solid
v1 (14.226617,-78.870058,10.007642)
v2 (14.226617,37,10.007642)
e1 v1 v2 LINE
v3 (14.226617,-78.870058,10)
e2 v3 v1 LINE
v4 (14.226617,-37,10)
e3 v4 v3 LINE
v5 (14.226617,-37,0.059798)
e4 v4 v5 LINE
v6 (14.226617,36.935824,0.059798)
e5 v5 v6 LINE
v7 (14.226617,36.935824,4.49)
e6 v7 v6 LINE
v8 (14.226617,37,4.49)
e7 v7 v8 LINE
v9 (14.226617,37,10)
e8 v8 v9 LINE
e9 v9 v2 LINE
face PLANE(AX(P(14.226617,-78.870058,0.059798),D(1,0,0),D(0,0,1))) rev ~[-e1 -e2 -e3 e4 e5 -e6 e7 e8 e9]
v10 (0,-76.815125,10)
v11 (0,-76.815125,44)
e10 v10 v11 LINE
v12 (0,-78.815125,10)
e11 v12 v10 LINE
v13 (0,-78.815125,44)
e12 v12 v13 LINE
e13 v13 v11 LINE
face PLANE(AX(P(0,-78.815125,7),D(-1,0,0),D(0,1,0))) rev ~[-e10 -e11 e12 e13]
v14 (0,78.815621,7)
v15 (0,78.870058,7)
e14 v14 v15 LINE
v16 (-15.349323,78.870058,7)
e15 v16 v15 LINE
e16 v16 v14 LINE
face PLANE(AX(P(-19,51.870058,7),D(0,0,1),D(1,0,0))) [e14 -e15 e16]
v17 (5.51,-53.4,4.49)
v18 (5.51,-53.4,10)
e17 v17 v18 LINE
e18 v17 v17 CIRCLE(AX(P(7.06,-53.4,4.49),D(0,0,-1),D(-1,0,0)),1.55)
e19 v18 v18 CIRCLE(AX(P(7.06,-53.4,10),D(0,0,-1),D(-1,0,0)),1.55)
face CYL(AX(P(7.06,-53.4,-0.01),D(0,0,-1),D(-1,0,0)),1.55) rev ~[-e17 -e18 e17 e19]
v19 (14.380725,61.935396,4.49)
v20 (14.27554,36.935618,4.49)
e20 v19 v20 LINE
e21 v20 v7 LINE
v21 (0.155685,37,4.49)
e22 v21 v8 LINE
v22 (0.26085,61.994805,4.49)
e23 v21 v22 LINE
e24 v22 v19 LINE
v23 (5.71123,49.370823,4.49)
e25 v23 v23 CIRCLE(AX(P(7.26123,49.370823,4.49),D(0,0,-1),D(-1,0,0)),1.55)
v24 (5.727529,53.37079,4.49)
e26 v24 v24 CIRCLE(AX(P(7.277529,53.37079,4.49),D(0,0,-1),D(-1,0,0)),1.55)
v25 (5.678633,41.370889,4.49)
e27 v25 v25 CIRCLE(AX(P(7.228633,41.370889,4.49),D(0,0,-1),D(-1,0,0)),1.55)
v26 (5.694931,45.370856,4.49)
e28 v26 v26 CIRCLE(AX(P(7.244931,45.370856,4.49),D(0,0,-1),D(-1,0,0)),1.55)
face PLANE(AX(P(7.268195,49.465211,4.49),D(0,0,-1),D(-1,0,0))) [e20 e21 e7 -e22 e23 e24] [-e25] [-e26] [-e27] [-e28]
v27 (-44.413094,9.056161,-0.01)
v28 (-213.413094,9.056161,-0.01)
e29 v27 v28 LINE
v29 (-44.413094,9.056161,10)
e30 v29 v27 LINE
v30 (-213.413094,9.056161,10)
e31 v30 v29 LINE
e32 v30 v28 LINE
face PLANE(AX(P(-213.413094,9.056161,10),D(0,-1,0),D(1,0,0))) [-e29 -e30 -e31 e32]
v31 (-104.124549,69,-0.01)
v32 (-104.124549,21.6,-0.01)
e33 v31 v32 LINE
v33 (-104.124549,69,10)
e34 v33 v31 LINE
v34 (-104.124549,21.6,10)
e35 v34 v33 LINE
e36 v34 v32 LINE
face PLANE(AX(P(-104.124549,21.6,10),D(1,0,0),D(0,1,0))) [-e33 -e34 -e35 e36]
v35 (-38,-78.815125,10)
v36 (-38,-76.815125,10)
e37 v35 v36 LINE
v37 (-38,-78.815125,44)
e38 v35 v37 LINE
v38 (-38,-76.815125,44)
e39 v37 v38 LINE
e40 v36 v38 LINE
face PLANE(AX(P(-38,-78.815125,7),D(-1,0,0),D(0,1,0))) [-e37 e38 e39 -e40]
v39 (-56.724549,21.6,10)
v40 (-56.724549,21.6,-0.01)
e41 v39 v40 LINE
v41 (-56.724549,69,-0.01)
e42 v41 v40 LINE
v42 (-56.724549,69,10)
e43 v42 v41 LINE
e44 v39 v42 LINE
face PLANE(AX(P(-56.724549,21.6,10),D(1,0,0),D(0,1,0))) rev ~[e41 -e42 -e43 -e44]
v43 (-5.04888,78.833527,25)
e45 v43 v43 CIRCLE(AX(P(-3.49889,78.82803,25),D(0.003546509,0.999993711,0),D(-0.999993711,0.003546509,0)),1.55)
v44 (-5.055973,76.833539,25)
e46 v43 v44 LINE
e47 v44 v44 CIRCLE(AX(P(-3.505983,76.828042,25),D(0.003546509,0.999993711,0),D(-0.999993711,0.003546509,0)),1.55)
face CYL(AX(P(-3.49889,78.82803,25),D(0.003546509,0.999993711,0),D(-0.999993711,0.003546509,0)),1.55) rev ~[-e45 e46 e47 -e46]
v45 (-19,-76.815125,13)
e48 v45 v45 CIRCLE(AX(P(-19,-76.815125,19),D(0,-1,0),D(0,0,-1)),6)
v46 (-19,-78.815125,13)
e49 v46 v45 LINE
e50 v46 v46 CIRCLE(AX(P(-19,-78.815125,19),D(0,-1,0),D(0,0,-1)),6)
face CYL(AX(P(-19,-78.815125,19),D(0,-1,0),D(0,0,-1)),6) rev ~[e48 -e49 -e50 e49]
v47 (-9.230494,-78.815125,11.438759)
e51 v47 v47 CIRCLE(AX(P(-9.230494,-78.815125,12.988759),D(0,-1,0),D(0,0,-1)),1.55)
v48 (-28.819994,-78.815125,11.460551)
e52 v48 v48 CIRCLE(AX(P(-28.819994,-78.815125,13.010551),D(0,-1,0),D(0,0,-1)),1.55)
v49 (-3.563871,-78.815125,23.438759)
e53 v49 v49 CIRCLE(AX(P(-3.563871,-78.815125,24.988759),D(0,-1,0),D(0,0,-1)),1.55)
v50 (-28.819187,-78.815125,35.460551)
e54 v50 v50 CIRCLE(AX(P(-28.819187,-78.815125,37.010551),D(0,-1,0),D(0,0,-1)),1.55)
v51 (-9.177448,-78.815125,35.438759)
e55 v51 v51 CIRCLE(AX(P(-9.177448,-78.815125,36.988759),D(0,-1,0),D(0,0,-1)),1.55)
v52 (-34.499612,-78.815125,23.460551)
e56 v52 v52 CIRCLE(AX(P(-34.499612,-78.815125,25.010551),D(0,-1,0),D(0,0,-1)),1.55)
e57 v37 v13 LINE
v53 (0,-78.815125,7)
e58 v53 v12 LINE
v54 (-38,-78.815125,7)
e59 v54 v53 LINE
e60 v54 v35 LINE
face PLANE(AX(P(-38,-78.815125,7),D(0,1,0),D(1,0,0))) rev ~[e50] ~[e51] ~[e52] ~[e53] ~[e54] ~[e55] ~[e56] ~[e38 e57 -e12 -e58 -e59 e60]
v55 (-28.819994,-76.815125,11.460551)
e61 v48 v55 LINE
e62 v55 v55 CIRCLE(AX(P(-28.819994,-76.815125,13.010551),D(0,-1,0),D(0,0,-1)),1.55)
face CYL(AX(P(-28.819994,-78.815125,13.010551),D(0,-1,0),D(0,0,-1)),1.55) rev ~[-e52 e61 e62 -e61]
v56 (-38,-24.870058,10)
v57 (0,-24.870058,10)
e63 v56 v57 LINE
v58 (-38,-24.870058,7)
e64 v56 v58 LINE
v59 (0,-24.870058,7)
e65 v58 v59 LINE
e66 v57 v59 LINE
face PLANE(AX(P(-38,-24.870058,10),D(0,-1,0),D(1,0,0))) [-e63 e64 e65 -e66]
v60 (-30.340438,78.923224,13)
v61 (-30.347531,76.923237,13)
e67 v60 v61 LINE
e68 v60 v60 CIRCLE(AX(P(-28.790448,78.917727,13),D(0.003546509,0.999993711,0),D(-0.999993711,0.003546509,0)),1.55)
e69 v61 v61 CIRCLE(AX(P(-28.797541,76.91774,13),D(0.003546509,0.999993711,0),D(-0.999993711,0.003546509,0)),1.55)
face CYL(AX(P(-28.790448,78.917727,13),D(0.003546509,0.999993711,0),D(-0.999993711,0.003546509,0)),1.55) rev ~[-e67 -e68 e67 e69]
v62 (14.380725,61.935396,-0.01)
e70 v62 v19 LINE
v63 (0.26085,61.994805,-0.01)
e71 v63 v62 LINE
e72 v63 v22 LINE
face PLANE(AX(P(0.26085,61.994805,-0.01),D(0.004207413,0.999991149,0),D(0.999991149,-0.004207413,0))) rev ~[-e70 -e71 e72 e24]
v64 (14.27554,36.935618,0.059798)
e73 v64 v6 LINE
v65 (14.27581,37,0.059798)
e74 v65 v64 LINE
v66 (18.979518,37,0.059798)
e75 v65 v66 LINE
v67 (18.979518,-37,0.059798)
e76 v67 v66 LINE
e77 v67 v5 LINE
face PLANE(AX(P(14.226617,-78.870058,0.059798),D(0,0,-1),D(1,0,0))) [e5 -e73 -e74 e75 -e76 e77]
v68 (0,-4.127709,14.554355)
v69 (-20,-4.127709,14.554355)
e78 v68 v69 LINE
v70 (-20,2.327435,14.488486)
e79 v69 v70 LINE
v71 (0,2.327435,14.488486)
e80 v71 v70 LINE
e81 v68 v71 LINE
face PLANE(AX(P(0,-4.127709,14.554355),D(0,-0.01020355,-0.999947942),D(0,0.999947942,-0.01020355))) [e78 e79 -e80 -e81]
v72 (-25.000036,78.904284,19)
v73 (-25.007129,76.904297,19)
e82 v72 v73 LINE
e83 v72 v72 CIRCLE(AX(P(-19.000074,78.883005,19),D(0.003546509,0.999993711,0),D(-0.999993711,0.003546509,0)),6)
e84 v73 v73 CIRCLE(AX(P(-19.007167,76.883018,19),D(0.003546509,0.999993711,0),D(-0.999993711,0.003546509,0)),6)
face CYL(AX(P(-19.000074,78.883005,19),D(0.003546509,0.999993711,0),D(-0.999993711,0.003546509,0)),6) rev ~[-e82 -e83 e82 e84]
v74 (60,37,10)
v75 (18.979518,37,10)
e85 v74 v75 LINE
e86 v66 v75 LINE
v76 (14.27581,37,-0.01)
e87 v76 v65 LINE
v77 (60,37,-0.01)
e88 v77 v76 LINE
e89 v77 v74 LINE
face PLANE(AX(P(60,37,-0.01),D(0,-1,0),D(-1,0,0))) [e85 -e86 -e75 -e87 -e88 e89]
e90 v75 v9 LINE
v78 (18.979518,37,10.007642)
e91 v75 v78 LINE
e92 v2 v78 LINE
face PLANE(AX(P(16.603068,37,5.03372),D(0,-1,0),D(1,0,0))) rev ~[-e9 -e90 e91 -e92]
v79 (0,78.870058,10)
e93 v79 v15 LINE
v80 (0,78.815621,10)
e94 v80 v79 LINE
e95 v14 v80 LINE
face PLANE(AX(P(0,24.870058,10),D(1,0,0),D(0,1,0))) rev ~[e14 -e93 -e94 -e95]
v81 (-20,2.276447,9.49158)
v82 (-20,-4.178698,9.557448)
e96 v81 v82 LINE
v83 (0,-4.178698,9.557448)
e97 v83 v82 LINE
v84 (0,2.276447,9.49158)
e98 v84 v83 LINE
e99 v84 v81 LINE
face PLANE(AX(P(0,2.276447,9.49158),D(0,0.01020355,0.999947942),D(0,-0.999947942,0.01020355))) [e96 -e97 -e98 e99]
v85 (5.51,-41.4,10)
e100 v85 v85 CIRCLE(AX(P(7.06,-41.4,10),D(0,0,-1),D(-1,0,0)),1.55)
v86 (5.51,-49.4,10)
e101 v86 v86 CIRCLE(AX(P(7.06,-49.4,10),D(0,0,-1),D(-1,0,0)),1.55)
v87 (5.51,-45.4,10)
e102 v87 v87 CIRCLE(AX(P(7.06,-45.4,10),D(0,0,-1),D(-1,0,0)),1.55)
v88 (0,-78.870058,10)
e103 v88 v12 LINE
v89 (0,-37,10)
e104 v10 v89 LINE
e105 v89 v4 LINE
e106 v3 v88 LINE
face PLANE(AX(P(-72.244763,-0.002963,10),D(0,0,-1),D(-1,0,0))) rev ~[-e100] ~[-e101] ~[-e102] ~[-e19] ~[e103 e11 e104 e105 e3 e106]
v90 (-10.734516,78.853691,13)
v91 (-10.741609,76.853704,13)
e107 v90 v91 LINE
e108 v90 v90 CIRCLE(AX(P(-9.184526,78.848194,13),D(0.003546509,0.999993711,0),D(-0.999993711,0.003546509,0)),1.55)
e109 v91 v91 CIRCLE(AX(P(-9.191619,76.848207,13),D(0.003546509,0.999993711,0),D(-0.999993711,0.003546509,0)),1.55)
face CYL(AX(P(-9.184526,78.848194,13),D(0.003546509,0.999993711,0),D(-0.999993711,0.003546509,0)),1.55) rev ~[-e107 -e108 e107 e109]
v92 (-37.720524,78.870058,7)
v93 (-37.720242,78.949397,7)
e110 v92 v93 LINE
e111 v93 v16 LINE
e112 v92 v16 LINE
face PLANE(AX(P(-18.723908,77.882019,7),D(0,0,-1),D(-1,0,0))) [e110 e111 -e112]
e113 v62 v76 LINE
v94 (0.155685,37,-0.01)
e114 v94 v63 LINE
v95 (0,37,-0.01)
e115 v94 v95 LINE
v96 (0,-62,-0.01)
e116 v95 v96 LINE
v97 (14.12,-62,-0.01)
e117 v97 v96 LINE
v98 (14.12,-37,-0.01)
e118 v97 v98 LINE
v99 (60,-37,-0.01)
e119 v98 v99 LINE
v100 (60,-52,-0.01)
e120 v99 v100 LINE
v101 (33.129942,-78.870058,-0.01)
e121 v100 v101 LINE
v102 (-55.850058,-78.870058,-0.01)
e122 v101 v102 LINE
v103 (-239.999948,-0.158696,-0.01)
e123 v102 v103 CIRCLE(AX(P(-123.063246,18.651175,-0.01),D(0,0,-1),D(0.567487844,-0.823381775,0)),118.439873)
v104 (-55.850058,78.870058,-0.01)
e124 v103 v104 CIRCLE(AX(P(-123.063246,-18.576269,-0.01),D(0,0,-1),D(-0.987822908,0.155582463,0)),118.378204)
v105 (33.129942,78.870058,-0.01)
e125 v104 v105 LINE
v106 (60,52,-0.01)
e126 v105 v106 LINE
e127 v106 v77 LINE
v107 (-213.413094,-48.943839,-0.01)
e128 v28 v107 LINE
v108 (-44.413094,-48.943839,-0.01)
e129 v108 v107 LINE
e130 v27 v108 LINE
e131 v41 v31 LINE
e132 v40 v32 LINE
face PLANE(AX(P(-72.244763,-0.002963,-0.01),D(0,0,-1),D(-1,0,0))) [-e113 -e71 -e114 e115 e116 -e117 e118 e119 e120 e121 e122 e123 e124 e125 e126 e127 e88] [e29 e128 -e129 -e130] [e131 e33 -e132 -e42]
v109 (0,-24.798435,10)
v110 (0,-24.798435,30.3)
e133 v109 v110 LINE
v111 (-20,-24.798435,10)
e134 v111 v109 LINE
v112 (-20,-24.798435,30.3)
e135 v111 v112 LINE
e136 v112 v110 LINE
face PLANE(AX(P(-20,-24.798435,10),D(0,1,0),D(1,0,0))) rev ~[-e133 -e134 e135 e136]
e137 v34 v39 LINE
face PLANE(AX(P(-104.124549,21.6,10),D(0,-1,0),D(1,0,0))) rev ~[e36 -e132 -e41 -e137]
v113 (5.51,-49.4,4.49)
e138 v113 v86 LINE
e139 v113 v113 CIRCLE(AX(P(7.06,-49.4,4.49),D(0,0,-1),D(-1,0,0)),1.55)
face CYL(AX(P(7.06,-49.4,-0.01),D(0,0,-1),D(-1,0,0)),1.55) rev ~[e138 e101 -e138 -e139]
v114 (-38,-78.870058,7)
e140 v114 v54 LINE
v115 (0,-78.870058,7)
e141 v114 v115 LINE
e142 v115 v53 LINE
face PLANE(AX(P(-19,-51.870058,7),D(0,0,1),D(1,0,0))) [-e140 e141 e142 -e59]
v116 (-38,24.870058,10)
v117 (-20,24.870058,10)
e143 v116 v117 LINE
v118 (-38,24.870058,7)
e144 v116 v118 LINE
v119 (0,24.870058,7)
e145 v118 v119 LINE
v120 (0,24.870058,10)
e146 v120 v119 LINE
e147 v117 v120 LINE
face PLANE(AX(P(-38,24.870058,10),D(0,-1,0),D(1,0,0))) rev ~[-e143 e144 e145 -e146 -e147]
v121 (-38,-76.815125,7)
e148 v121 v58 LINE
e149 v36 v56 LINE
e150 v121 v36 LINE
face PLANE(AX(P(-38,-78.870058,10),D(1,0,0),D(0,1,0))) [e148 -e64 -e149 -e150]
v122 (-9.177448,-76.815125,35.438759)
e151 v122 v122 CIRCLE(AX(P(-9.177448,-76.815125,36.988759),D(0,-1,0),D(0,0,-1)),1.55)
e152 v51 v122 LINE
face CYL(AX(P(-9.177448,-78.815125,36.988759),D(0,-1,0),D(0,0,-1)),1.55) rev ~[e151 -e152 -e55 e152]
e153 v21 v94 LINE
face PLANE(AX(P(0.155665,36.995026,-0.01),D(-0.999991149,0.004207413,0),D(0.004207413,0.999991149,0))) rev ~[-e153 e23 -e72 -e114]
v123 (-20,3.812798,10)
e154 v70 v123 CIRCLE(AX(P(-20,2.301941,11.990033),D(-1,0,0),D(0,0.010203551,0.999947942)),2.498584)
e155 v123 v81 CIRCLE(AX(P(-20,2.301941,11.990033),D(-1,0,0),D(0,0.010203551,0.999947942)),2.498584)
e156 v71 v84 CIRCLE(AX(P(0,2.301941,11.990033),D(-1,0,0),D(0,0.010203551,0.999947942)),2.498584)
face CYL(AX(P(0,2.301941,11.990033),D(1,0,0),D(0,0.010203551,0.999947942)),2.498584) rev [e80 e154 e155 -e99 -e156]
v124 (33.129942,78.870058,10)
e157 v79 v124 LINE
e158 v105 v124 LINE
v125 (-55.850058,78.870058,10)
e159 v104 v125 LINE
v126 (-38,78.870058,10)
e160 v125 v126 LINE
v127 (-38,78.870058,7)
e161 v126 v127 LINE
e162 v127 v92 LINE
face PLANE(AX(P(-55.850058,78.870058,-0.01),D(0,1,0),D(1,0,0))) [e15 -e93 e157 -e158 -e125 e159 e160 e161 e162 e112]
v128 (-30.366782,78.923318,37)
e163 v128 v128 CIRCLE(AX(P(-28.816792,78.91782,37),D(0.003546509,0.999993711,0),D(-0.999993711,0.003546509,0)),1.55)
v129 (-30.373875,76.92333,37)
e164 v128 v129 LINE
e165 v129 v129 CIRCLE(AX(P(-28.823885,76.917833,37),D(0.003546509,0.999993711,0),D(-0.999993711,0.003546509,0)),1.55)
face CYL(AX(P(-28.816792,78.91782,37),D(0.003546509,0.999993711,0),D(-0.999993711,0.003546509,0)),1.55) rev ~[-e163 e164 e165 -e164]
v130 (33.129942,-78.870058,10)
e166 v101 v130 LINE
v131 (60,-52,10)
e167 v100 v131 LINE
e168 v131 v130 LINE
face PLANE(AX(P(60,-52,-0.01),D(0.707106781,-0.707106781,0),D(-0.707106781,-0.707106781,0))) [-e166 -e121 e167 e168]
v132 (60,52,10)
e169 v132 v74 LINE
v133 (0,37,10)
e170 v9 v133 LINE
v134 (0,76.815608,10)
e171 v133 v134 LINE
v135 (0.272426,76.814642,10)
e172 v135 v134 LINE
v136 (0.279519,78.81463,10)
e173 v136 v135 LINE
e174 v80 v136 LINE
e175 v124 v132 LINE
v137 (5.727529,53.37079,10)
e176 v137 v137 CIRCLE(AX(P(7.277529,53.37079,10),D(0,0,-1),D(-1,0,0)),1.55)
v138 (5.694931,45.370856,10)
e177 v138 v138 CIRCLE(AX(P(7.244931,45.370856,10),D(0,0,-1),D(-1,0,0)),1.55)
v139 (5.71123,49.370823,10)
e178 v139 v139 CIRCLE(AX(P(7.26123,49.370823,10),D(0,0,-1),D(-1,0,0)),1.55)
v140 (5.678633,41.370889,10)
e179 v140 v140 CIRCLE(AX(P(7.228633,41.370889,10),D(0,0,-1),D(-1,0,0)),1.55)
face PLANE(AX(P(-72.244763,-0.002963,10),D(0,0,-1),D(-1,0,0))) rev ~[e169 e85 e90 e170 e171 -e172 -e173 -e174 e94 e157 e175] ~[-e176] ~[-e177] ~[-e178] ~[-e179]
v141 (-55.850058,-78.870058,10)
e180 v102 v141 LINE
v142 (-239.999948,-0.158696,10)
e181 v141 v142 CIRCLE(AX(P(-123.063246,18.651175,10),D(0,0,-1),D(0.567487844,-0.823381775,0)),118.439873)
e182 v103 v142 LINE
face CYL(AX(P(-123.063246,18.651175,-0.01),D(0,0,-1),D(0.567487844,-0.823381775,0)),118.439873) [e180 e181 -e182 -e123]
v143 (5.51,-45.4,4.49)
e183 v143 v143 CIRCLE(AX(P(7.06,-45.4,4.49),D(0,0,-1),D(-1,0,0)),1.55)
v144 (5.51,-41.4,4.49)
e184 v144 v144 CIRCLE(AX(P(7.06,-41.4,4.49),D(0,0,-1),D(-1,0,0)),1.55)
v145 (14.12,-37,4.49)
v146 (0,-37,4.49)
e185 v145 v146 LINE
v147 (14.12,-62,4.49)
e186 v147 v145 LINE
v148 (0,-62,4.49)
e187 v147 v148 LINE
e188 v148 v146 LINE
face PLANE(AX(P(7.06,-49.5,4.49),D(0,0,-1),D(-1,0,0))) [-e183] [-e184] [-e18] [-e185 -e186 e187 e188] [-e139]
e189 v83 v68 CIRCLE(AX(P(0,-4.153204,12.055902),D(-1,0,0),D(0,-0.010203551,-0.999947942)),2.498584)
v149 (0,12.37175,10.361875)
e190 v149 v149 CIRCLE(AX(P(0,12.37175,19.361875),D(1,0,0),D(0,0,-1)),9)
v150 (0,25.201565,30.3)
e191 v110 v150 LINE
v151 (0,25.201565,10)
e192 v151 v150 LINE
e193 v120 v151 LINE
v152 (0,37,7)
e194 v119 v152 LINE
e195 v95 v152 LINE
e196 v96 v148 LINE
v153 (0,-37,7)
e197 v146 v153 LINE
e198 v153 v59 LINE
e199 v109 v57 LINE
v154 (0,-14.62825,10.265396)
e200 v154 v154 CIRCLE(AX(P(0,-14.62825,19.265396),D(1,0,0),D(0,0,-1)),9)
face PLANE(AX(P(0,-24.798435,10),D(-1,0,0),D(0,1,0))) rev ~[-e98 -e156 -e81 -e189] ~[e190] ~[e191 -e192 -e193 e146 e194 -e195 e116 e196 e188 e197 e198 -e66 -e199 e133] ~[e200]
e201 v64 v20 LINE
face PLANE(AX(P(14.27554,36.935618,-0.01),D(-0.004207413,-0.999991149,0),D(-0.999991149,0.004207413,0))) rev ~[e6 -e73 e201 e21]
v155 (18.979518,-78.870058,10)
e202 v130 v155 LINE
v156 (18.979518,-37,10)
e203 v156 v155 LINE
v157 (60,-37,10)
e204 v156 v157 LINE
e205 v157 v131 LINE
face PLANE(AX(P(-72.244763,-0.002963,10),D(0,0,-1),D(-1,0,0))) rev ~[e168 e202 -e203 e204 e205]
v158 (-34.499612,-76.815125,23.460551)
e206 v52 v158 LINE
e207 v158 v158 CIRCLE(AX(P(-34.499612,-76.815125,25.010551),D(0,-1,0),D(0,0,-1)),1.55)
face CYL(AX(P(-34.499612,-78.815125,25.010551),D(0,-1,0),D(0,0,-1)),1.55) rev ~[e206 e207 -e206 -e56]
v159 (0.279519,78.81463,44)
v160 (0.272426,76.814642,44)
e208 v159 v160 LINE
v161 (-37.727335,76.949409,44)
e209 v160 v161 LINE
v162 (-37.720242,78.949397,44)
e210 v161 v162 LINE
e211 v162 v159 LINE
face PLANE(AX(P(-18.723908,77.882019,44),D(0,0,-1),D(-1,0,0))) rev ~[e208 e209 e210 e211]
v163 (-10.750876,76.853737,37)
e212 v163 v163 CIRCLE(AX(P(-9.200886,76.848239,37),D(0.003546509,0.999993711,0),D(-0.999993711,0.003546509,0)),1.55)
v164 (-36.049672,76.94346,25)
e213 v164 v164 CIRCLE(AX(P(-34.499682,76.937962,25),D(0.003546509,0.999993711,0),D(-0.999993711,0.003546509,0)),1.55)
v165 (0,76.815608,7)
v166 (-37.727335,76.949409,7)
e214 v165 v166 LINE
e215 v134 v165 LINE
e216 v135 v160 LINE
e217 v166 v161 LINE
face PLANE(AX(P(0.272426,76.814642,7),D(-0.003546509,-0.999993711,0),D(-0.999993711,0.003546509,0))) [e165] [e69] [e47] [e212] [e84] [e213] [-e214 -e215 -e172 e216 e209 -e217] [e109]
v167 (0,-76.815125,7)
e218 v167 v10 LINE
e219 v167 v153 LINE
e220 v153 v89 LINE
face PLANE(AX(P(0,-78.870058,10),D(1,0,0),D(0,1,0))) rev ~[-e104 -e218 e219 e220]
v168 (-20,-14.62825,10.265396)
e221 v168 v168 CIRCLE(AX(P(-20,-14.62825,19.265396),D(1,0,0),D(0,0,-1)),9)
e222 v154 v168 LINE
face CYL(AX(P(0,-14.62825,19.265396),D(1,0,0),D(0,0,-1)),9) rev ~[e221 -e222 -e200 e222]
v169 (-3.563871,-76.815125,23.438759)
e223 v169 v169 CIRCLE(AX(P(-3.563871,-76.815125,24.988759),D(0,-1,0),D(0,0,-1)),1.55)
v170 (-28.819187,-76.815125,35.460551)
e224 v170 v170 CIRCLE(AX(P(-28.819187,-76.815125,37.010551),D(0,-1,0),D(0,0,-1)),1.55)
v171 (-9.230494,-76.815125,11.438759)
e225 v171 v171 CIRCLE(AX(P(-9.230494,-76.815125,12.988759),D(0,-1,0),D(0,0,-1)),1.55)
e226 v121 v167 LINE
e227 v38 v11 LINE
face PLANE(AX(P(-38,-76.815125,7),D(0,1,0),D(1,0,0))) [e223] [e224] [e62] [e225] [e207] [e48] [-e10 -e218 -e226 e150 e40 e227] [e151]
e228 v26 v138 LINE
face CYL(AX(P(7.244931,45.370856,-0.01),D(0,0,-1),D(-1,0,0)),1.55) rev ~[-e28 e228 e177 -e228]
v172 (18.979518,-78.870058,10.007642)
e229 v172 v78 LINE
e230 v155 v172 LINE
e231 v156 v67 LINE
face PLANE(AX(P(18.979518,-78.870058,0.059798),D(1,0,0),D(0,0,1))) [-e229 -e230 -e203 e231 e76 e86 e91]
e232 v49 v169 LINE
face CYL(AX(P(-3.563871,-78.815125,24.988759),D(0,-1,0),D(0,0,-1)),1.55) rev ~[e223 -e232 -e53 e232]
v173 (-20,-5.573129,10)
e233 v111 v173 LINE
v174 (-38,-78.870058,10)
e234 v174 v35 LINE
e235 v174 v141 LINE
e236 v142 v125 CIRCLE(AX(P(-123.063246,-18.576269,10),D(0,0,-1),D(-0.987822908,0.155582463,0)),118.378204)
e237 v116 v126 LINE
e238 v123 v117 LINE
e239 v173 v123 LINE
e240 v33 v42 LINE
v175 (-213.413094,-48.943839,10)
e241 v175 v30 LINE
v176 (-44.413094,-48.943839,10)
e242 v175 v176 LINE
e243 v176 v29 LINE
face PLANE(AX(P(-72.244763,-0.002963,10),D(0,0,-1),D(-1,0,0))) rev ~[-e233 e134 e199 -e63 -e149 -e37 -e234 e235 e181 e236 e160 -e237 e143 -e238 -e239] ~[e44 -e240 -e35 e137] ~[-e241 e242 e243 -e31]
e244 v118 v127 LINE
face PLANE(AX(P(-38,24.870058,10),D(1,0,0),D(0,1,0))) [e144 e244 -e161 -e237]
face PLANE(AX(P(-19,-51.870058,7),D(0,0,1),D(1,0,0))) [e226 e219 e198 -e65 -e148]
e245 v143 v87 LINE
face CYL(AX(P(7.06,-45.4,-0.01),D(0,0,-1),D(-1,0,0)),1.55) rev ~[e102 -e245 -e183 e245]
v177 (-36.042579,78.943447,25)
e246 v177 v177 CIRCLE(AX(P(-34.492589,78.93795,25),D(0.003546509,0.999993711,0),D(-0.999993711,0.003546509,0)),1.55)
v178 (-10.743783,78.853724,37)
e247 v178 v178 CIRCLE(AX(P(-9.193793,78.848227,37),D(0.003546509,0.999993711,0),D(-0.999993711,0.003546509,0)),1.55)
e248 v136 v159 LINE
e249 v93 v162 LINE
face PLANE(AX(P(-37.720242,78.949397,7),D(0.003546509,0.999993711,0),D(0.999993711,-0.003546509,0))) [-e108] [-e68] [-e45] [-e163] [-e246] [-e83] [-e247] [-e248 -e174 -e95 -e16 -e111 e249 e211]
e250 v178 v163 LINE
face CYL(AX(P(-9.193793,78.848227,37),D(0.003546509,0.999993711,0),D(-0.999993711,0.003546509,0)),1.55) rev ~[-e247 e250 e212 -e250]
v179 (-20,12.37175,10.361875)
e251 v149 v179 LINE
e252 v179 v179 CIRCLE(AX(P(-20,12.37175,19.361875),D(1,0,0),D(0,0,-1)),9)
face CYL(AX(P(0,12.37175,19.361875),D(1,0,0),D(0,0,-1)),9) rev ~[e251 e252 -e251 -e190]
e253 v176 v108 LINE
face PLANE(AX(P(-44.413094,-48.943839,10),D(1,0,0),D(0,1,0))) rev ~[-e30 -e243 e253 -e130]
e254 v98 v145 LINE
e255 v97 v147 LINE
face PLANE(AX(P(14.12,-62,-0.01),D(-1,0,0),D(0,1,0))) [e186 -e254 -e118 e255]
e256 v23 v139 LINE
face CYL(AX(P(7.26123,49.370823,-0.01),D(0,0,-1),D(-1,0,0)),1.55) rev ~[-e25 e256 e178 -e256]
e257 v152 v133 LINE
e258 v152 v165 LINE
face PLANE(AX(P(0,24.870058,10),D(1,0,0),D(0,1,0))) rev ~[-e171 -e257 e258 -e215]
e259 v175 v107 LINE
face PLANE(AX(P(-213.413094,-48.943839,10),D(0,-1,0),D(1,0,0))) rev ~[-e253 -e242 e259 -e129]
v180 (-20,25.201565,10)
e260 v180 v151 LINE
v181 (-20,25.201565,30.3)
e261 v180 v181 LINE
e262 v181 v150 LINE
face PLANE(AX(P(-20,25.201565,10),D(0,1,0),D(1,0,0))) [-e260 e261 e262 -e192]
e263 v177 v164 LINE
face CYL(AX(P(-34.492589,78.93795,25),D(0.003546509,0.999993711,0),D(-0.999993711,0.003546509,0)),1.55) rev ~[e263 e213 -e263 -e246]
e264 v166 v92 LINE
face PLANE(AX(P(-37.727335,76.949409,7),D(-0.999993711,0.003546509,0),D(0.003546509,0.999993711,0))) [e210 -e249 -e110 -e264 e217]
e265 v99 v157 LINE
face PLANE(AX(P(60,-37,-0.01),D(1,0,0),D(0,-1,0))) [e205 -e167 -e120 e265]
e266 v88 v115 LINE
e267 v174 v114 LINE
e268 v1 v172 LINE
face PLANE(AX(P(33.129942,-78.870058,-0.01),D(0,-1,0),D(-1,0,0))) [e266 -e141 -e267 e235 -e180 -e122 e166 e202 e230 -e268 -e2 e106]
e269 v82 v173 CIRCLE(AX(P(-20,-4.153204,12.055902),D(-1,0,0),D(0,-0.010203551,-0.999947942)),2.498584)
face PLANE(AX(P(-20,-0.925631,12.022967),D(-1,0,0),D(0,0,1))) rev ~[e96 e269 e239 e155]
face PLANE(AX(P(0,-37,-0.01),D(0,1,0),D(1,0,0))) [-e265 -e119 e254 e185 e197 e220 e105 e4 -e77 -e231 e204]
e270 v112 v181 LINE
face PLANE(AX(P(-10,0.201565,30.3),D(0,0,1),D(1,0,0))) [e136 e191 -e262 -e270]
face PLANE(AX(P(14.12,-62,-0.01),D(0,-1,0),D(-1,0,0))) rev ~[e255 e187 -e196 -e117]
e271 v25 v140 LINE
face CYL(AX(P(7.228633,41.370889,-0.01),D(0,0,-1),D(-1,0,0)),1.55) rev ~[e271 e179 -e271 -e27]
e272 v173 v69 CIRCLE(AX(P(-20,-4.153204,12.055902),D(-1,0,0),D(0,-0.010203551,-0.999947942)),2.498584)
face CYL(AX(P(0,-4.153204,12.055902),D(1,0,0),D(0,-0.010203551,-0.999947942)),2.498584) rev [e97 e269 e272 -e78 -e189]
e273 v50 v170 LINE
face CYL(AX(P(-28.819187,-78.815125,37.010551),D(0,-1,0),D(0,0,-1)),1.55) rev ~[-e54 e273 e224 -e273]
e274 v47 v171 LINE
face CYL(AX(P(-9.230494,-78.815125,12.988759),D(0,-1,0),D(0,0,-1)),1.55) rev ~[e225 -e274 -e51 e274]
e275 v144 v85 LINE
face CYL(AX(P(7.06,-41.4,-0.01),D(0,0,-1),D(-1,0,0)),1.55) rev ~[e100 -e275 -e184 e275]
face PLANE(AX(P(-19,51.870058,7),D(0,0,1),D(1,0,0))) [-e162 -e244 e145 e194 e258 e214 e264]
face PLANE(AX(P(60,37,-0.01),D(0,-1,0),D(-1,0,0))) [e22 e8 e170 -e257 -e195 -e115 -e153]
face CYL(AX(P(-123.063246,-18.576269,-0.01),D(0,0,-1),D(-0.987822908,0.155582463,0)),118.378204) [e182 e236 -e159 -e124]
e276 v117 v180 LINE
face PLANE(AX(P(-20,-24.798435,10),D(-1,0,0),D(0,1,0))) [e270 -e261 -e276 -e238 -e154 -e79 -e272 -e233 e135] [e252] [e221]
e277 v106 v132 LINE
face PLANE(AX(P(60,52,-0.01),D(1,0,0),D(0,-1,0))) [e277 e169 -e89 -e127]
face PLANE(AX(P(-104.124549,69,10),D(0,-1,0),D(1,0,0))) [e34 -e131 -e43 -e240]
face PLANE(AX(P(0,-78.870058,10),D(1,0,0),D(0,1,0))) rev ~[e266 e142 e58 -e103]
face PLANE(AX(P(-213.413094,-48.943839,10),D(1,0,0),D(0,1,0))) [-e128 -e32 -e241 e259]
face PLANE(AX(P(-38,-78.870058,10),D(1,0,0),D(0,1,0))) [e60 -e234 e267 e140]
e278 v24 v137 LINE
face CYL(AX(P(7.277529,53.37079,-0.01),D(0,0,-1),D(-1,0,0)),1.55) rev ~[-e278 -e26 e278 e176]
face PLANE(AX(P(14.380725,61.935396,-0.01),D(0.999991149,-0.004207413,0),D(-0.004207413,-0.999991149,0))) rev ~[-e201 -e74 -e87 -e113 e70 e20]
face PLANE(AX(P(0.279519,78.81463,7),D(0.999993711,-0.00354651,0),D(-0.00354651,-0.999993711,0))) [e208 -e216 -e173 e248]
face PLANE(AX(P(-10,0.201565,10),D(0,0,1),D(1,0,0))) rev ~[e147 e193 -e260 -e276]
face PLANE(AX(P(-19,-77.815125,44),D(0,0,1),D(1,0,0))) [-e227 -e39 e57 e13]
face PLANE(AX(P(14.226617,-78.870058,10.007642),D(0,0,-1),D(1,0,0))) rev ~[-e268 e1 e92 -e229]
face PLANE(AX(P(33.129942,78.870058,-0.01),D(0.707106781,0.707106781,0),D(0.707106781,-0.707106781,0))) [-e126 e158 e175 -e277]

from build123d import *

# Parameters (mm, degrees)
BOSS_EXTRUDE1_DEPTH      = 10
BOSS_EXTRUDE1_DEPTH_BACK = 0.01
SKETCH3_W                = 38
SKETCH3_H                = 54
CUT_EXTRUDE1_DEPTH       = 3
SKETCH5_W                = 38
SKETCH5_H                = 54
CUT_EXTRUDE3_DEPTH       = 3
SKETCH7_W                = 169
SKETCH7_H                = 58
CUT_EXTRUDE4_DEPTH       = 261.116514656
SKETCH15_W               = 20
SKETCH15_H               = 50
BOSS_EXTRUDE3_DEPTH      = 20.3
SKETCH18_W               = 47.4
SKETCH18_H               = 47.4
CUT_EXTRUDE18_DEPTH      = 261.715344958
SKETCH21_R               = 9
CUT_EXTRUDE21_DEPTH      = 20
SKETCH28_W               = 4.75290021
SKETCH28_H               = 9.947843747
BOSS_EXTRUDE6_DEPTH      = 115.870057685
SKETCH30_W               = 14.12
SKETCH30_H               = 25
CUT_EXTRUDE25_DEPTH      = 4.5
SKETCH33_R               = 1.55
CUT_EXTRUDE26_DEPTH      = 10.01
SKETCH36_W               = 38
SKETCH36_H               = 2
BOSS_EXTRUDE7_DEPTH      = 37
SKETCH39_R               = 6
SKETCH39_R_2             = 1.55
CUT_EXTRUDE28_DEPTH      = 2
SKETCH42_R               = 6
SKETCH42_R_2             = 1.55
CUT_EXTRUDE29_DEPTH      = 2


with BuildPart() as part:
    # Sketch1 → Boss-Extrude1 (new, two sides: drawn at the far end of the back side and taken through both)
    with BuildSketch(Plane.XY.offset(-BOSS_EXTRUDE1_DEPTH_BACK)):
        with BuildLine():
            Line((0, 0), (0, -37))
            Line((0, -37), (60, -37))
            Line((60, -37), (60, -52))
            Line((60, -52), (33.129942315, -78.870057685))
            Line((33.129942315, -78.870057685), (-55.850057685, -78.870057685))
            ThreePointArc((-55.850057685, -78.870057685), (-169.614041234, -90.257166815), (-239.999947532, -0.158696229))
            ThreePointArc((-239.999947532, -0.158696229), (-169.748285548, 90.207490359), (-55.850057685, 78.870057685))
            Line((-55.850057685, 78.870057685), (33.129942315, 78.870057685))
            Line((33.129942315, 78.870057685), (60, 52))
            Line((60, 52), (60, 37))
            Line((60, 37), (0, 37))
            Line((0, 37), (0, 0))
        make_face()
    extrude(amount=BOSS_EXTRUDE1_DEPTH + BOSS_EXTRUDE1_DEPTH_BACK)

    # Sketch3 → Cut-Extrude1 (cut)
    with BuildSketch(Plane.XY.offset(10)):
        with Locations((-19, 51.870057685)):
            Rectangle(SKETCH3_W, SKETCH3_H)
    extrude(amount=-CUT_EXTRUDE1_DEPTH, mode=Mode.SUBTRACT)

    # Sketch5 → Cut-Extrude3 (cut)
    with BuildSketch(Plane.XY.offset(10)):
        with Locations((-19, -51.870057685)):
            Rectangle(SKETCH5_W, SKETCH5_H)
    extrude(amount=-CUT_EXTRUDE3_DEPTH, mode=Mode.SUBTRACT)

    # Sketch7 → Cut-Extrude4 (cut, through all)
    with BuildSketch(Plane.XY.offset(10)):
        with Locations((-128.91309413, -19.94383898)):
            Rectangle(SKETCH7_W, SKETCH7_H)
    extrude(amount=-CUT_EXTRUDE4_DEPTH, mode=Mode.SUBTRACT)

    # Sketch15 → Boss-Extrude3 (add)
    with BuildSketch(Plane.XY.offset(10)):
        with Locations((-10, 0.20156489)):
            Rectangle(SKETCH15_W, SKETCH15_H)
    extrude(amount=BOSS_EXTRUDE3_DEPTH)

    # Sketch18 → Cut-Extrude18 (cut, through all)
    with BuildSketch(Plane.XY.offset(10)):
        with Locations((-80.42454895, 45.3)):
            Rectangle(SKETCH18_W, SKETCH18_H)
    extrude(amount=-CUT_EXTRUDE18_DEPTH, mode=Mode.SUBTRACT)

    # Sketch21 → Cut-Extrude21 (cut)
    with BuildSketch(Plane(origin=(0, 0, 0), x_dir=(0, 0, -1), z_dir=(1, 0, 0))):
        with Locations((-19.36187505, 12.37175029)):
            Circle(SKETCH21_R)
        with Locations((-19.26539558, -14.62824971)):
            Circle(SKETCH21_R)
        with BuildLine():
            Line((-9.491579533, 2.276446619), (-9.557448357, -4.178698144))
            ThreePointArc((-9.557448357, -4.178698144), (-12.081396215, -6.651657156), (-14.554355227, -4.127709299))
            Line((-14.554355227, -4.127709299), (-14.488486403, 2.327435464))
            ThreePointArc((-14.488486403, 2.327435464), (-11.964538545, 4.800394476), (-9.491579533, 2.276446619))
        make_face()
    extrude(amount=-CUT_EXTRUDE21_DEPTH, mode=Mode.SUBTRACT)

    # Sketch28 → Boss-Extrude6 (add)
    with BuildSketch(Plane.XZ.offset(78.870057685)):
        with Locations((16.603067585, 5.033719824)):
            Rectangle(SKETCH28_W, SKETCH28_H)
    extrude(amount=-BOSS_EXTRUDE6_DEPTH)

    # Sketch30 → Cut-Extrude25 (cut)
    with BuildSketch(Plane(origin=(0, 0, -0.01), x_dir=(-1, 0, 0), z_dir=(0, 0, -1))):
        with Locations((-7.06, -49.5)):
            Rectangle(SKETCH30_W, SKETCH30_H)
        Polygon((-14.38072485, 61.935396467), (-14.275539526, 36.935617747), (-0.155664505, 36.995026418), (-0.260849829, 61.994805138), align=None)
    extrude(amount=-CUT_EXTRUDE25_DEPTH, mode=Mode.SUBTRACT)

    # Sketch33 → Cut-Extrude26 (cut)
    with BuildSketch(Plane(origin=(0, 0, -0.01), x_dir=(-1, 0, 0), z_dir=(0, 0, -1))):
        with Locations((-7.06, -53.4)):
            Circle(SKETCH33_R)
        with Locations((-7.06, -49.4)):
            Circle(SKETCH33_R)
        with Locations((-7.06, -45.4)):
            Circle(SKETCH33_R)
        with Locations((-7.06, -41.4)):
            Circle(SKETCH33_R)
        with Locations((-7.228632788, 41.370889137)):
            Circle(SKETCH33_R)
        with Locations((-7.244931474, 45.370855931)):
            Circle(SKETCH33_R)
        with Locations((-7.261230159, 49.370822725)):
            Circle(SKETCH33_R)
        with Locations((-7.277528845, 53.370789519)):
            Circle(SKETCH33_R)
    extrude(amount=-CUT_EXTRUDE26_DEPTH, mode=Mode.SUBTRACT)

    # Sketch36 → Boss-Extrude7 (add)
    with BuildSketch(Plane.XY.offset(7)):
        Polygon((0.279518574, 78.814629504), (0.272425555, 76.814642082), (-37.727335467, 76.949409435), (-37.720242449, 78.949396858), align=None)
        with Locations((-19, -77.815125164)):
            Rectangle(SKETCH36_W, SKETCH36_H)
    extrude(amount=BOSS_EXTRUDE7_DEPTH)

    # Sketch39 → Cut-Extrude28 (cut)
    with BuildSketch(Plane.XZ.offset(78.815125164)):
        with Locations(Location((-19, 19, 0), (0, 0, 270))):
            Circle(SKETCH39_R)
        with Locations(Location((-34.499611559, 25.01055106, 0), (0, 0, 270))):
            Circle(SKETCH39_R_2)
        with Locations(Location((-3.563871147, 24.988758691, 0), (0, 0, 270))):
            Circle(SKETCH39_R_2)
        with Locations(Location((-28.819186805, 37.01055106, 0), (0, 0, 270))):
            Circle(SKETCH39_R_2)
        with Locations(Location((-9.177448314, 36.988758691, 0), (0, 0, 270))):
            Circle(SKETCH39_R_2)
        with Locations(Location((-28.819994175, 13.01055106, 0), (0, 0, 270))):
            Circle(SKETCH39_R_2)
        with Locations(Location((-9.230494356, 12.988758691, 0), (0, 0, 270))):
            Circle(SKETCH39_R_2)
    extrude(amount=-CUT_EXTRUDE28_DEPTH, mode=Mode.SUBTRACT)

    # Sketch42 → Cut-Extrude29 (cut)
    with BuildSketch(Plane(origin=(0.279518574, 78.814629504, 0), x_dir=(0.9999937111161443, -0.003546509292438372, 0), z_dir=(0.003546509292438372, 0.9999937111161443, 0))):
        with Locations(Location((-19.279713392, -19, 0), (0, 0, 180))):
            Circle(SKETCH42_R)
        with Locations(Location((-29.070149337, -13, 0), (0, 0, 180))):
            Circle(SKETCH42_R_2)
        with Locations(Location((-3.778432466, -25, 0), (0, 0, 180))):
            Circle(SKETCH42_R_2)
        with Locations(Location((-9.464104196, -13, 0), (0, 0, 180))):
            Circle(SKETCH42_R_2)
        with Locations(Location((-34.772326096, -25, 0), (0, 0, 180))):
            Circle(SKETCH42_R_2)
        with Locations(Location((-29.096493177, -37, 0), (0, 0, 180))):
            Circle(SKETCH42_R_2)
        with Locations(Location((-9.473371075, -37, 0), (0, 0, 180))):
            Circle(SKETCH42_R_2)
    extrude(amount=-CUT_EXTRUDE29_DEPTH, mode=Mode.SUBTRACT)


solid = part.part
